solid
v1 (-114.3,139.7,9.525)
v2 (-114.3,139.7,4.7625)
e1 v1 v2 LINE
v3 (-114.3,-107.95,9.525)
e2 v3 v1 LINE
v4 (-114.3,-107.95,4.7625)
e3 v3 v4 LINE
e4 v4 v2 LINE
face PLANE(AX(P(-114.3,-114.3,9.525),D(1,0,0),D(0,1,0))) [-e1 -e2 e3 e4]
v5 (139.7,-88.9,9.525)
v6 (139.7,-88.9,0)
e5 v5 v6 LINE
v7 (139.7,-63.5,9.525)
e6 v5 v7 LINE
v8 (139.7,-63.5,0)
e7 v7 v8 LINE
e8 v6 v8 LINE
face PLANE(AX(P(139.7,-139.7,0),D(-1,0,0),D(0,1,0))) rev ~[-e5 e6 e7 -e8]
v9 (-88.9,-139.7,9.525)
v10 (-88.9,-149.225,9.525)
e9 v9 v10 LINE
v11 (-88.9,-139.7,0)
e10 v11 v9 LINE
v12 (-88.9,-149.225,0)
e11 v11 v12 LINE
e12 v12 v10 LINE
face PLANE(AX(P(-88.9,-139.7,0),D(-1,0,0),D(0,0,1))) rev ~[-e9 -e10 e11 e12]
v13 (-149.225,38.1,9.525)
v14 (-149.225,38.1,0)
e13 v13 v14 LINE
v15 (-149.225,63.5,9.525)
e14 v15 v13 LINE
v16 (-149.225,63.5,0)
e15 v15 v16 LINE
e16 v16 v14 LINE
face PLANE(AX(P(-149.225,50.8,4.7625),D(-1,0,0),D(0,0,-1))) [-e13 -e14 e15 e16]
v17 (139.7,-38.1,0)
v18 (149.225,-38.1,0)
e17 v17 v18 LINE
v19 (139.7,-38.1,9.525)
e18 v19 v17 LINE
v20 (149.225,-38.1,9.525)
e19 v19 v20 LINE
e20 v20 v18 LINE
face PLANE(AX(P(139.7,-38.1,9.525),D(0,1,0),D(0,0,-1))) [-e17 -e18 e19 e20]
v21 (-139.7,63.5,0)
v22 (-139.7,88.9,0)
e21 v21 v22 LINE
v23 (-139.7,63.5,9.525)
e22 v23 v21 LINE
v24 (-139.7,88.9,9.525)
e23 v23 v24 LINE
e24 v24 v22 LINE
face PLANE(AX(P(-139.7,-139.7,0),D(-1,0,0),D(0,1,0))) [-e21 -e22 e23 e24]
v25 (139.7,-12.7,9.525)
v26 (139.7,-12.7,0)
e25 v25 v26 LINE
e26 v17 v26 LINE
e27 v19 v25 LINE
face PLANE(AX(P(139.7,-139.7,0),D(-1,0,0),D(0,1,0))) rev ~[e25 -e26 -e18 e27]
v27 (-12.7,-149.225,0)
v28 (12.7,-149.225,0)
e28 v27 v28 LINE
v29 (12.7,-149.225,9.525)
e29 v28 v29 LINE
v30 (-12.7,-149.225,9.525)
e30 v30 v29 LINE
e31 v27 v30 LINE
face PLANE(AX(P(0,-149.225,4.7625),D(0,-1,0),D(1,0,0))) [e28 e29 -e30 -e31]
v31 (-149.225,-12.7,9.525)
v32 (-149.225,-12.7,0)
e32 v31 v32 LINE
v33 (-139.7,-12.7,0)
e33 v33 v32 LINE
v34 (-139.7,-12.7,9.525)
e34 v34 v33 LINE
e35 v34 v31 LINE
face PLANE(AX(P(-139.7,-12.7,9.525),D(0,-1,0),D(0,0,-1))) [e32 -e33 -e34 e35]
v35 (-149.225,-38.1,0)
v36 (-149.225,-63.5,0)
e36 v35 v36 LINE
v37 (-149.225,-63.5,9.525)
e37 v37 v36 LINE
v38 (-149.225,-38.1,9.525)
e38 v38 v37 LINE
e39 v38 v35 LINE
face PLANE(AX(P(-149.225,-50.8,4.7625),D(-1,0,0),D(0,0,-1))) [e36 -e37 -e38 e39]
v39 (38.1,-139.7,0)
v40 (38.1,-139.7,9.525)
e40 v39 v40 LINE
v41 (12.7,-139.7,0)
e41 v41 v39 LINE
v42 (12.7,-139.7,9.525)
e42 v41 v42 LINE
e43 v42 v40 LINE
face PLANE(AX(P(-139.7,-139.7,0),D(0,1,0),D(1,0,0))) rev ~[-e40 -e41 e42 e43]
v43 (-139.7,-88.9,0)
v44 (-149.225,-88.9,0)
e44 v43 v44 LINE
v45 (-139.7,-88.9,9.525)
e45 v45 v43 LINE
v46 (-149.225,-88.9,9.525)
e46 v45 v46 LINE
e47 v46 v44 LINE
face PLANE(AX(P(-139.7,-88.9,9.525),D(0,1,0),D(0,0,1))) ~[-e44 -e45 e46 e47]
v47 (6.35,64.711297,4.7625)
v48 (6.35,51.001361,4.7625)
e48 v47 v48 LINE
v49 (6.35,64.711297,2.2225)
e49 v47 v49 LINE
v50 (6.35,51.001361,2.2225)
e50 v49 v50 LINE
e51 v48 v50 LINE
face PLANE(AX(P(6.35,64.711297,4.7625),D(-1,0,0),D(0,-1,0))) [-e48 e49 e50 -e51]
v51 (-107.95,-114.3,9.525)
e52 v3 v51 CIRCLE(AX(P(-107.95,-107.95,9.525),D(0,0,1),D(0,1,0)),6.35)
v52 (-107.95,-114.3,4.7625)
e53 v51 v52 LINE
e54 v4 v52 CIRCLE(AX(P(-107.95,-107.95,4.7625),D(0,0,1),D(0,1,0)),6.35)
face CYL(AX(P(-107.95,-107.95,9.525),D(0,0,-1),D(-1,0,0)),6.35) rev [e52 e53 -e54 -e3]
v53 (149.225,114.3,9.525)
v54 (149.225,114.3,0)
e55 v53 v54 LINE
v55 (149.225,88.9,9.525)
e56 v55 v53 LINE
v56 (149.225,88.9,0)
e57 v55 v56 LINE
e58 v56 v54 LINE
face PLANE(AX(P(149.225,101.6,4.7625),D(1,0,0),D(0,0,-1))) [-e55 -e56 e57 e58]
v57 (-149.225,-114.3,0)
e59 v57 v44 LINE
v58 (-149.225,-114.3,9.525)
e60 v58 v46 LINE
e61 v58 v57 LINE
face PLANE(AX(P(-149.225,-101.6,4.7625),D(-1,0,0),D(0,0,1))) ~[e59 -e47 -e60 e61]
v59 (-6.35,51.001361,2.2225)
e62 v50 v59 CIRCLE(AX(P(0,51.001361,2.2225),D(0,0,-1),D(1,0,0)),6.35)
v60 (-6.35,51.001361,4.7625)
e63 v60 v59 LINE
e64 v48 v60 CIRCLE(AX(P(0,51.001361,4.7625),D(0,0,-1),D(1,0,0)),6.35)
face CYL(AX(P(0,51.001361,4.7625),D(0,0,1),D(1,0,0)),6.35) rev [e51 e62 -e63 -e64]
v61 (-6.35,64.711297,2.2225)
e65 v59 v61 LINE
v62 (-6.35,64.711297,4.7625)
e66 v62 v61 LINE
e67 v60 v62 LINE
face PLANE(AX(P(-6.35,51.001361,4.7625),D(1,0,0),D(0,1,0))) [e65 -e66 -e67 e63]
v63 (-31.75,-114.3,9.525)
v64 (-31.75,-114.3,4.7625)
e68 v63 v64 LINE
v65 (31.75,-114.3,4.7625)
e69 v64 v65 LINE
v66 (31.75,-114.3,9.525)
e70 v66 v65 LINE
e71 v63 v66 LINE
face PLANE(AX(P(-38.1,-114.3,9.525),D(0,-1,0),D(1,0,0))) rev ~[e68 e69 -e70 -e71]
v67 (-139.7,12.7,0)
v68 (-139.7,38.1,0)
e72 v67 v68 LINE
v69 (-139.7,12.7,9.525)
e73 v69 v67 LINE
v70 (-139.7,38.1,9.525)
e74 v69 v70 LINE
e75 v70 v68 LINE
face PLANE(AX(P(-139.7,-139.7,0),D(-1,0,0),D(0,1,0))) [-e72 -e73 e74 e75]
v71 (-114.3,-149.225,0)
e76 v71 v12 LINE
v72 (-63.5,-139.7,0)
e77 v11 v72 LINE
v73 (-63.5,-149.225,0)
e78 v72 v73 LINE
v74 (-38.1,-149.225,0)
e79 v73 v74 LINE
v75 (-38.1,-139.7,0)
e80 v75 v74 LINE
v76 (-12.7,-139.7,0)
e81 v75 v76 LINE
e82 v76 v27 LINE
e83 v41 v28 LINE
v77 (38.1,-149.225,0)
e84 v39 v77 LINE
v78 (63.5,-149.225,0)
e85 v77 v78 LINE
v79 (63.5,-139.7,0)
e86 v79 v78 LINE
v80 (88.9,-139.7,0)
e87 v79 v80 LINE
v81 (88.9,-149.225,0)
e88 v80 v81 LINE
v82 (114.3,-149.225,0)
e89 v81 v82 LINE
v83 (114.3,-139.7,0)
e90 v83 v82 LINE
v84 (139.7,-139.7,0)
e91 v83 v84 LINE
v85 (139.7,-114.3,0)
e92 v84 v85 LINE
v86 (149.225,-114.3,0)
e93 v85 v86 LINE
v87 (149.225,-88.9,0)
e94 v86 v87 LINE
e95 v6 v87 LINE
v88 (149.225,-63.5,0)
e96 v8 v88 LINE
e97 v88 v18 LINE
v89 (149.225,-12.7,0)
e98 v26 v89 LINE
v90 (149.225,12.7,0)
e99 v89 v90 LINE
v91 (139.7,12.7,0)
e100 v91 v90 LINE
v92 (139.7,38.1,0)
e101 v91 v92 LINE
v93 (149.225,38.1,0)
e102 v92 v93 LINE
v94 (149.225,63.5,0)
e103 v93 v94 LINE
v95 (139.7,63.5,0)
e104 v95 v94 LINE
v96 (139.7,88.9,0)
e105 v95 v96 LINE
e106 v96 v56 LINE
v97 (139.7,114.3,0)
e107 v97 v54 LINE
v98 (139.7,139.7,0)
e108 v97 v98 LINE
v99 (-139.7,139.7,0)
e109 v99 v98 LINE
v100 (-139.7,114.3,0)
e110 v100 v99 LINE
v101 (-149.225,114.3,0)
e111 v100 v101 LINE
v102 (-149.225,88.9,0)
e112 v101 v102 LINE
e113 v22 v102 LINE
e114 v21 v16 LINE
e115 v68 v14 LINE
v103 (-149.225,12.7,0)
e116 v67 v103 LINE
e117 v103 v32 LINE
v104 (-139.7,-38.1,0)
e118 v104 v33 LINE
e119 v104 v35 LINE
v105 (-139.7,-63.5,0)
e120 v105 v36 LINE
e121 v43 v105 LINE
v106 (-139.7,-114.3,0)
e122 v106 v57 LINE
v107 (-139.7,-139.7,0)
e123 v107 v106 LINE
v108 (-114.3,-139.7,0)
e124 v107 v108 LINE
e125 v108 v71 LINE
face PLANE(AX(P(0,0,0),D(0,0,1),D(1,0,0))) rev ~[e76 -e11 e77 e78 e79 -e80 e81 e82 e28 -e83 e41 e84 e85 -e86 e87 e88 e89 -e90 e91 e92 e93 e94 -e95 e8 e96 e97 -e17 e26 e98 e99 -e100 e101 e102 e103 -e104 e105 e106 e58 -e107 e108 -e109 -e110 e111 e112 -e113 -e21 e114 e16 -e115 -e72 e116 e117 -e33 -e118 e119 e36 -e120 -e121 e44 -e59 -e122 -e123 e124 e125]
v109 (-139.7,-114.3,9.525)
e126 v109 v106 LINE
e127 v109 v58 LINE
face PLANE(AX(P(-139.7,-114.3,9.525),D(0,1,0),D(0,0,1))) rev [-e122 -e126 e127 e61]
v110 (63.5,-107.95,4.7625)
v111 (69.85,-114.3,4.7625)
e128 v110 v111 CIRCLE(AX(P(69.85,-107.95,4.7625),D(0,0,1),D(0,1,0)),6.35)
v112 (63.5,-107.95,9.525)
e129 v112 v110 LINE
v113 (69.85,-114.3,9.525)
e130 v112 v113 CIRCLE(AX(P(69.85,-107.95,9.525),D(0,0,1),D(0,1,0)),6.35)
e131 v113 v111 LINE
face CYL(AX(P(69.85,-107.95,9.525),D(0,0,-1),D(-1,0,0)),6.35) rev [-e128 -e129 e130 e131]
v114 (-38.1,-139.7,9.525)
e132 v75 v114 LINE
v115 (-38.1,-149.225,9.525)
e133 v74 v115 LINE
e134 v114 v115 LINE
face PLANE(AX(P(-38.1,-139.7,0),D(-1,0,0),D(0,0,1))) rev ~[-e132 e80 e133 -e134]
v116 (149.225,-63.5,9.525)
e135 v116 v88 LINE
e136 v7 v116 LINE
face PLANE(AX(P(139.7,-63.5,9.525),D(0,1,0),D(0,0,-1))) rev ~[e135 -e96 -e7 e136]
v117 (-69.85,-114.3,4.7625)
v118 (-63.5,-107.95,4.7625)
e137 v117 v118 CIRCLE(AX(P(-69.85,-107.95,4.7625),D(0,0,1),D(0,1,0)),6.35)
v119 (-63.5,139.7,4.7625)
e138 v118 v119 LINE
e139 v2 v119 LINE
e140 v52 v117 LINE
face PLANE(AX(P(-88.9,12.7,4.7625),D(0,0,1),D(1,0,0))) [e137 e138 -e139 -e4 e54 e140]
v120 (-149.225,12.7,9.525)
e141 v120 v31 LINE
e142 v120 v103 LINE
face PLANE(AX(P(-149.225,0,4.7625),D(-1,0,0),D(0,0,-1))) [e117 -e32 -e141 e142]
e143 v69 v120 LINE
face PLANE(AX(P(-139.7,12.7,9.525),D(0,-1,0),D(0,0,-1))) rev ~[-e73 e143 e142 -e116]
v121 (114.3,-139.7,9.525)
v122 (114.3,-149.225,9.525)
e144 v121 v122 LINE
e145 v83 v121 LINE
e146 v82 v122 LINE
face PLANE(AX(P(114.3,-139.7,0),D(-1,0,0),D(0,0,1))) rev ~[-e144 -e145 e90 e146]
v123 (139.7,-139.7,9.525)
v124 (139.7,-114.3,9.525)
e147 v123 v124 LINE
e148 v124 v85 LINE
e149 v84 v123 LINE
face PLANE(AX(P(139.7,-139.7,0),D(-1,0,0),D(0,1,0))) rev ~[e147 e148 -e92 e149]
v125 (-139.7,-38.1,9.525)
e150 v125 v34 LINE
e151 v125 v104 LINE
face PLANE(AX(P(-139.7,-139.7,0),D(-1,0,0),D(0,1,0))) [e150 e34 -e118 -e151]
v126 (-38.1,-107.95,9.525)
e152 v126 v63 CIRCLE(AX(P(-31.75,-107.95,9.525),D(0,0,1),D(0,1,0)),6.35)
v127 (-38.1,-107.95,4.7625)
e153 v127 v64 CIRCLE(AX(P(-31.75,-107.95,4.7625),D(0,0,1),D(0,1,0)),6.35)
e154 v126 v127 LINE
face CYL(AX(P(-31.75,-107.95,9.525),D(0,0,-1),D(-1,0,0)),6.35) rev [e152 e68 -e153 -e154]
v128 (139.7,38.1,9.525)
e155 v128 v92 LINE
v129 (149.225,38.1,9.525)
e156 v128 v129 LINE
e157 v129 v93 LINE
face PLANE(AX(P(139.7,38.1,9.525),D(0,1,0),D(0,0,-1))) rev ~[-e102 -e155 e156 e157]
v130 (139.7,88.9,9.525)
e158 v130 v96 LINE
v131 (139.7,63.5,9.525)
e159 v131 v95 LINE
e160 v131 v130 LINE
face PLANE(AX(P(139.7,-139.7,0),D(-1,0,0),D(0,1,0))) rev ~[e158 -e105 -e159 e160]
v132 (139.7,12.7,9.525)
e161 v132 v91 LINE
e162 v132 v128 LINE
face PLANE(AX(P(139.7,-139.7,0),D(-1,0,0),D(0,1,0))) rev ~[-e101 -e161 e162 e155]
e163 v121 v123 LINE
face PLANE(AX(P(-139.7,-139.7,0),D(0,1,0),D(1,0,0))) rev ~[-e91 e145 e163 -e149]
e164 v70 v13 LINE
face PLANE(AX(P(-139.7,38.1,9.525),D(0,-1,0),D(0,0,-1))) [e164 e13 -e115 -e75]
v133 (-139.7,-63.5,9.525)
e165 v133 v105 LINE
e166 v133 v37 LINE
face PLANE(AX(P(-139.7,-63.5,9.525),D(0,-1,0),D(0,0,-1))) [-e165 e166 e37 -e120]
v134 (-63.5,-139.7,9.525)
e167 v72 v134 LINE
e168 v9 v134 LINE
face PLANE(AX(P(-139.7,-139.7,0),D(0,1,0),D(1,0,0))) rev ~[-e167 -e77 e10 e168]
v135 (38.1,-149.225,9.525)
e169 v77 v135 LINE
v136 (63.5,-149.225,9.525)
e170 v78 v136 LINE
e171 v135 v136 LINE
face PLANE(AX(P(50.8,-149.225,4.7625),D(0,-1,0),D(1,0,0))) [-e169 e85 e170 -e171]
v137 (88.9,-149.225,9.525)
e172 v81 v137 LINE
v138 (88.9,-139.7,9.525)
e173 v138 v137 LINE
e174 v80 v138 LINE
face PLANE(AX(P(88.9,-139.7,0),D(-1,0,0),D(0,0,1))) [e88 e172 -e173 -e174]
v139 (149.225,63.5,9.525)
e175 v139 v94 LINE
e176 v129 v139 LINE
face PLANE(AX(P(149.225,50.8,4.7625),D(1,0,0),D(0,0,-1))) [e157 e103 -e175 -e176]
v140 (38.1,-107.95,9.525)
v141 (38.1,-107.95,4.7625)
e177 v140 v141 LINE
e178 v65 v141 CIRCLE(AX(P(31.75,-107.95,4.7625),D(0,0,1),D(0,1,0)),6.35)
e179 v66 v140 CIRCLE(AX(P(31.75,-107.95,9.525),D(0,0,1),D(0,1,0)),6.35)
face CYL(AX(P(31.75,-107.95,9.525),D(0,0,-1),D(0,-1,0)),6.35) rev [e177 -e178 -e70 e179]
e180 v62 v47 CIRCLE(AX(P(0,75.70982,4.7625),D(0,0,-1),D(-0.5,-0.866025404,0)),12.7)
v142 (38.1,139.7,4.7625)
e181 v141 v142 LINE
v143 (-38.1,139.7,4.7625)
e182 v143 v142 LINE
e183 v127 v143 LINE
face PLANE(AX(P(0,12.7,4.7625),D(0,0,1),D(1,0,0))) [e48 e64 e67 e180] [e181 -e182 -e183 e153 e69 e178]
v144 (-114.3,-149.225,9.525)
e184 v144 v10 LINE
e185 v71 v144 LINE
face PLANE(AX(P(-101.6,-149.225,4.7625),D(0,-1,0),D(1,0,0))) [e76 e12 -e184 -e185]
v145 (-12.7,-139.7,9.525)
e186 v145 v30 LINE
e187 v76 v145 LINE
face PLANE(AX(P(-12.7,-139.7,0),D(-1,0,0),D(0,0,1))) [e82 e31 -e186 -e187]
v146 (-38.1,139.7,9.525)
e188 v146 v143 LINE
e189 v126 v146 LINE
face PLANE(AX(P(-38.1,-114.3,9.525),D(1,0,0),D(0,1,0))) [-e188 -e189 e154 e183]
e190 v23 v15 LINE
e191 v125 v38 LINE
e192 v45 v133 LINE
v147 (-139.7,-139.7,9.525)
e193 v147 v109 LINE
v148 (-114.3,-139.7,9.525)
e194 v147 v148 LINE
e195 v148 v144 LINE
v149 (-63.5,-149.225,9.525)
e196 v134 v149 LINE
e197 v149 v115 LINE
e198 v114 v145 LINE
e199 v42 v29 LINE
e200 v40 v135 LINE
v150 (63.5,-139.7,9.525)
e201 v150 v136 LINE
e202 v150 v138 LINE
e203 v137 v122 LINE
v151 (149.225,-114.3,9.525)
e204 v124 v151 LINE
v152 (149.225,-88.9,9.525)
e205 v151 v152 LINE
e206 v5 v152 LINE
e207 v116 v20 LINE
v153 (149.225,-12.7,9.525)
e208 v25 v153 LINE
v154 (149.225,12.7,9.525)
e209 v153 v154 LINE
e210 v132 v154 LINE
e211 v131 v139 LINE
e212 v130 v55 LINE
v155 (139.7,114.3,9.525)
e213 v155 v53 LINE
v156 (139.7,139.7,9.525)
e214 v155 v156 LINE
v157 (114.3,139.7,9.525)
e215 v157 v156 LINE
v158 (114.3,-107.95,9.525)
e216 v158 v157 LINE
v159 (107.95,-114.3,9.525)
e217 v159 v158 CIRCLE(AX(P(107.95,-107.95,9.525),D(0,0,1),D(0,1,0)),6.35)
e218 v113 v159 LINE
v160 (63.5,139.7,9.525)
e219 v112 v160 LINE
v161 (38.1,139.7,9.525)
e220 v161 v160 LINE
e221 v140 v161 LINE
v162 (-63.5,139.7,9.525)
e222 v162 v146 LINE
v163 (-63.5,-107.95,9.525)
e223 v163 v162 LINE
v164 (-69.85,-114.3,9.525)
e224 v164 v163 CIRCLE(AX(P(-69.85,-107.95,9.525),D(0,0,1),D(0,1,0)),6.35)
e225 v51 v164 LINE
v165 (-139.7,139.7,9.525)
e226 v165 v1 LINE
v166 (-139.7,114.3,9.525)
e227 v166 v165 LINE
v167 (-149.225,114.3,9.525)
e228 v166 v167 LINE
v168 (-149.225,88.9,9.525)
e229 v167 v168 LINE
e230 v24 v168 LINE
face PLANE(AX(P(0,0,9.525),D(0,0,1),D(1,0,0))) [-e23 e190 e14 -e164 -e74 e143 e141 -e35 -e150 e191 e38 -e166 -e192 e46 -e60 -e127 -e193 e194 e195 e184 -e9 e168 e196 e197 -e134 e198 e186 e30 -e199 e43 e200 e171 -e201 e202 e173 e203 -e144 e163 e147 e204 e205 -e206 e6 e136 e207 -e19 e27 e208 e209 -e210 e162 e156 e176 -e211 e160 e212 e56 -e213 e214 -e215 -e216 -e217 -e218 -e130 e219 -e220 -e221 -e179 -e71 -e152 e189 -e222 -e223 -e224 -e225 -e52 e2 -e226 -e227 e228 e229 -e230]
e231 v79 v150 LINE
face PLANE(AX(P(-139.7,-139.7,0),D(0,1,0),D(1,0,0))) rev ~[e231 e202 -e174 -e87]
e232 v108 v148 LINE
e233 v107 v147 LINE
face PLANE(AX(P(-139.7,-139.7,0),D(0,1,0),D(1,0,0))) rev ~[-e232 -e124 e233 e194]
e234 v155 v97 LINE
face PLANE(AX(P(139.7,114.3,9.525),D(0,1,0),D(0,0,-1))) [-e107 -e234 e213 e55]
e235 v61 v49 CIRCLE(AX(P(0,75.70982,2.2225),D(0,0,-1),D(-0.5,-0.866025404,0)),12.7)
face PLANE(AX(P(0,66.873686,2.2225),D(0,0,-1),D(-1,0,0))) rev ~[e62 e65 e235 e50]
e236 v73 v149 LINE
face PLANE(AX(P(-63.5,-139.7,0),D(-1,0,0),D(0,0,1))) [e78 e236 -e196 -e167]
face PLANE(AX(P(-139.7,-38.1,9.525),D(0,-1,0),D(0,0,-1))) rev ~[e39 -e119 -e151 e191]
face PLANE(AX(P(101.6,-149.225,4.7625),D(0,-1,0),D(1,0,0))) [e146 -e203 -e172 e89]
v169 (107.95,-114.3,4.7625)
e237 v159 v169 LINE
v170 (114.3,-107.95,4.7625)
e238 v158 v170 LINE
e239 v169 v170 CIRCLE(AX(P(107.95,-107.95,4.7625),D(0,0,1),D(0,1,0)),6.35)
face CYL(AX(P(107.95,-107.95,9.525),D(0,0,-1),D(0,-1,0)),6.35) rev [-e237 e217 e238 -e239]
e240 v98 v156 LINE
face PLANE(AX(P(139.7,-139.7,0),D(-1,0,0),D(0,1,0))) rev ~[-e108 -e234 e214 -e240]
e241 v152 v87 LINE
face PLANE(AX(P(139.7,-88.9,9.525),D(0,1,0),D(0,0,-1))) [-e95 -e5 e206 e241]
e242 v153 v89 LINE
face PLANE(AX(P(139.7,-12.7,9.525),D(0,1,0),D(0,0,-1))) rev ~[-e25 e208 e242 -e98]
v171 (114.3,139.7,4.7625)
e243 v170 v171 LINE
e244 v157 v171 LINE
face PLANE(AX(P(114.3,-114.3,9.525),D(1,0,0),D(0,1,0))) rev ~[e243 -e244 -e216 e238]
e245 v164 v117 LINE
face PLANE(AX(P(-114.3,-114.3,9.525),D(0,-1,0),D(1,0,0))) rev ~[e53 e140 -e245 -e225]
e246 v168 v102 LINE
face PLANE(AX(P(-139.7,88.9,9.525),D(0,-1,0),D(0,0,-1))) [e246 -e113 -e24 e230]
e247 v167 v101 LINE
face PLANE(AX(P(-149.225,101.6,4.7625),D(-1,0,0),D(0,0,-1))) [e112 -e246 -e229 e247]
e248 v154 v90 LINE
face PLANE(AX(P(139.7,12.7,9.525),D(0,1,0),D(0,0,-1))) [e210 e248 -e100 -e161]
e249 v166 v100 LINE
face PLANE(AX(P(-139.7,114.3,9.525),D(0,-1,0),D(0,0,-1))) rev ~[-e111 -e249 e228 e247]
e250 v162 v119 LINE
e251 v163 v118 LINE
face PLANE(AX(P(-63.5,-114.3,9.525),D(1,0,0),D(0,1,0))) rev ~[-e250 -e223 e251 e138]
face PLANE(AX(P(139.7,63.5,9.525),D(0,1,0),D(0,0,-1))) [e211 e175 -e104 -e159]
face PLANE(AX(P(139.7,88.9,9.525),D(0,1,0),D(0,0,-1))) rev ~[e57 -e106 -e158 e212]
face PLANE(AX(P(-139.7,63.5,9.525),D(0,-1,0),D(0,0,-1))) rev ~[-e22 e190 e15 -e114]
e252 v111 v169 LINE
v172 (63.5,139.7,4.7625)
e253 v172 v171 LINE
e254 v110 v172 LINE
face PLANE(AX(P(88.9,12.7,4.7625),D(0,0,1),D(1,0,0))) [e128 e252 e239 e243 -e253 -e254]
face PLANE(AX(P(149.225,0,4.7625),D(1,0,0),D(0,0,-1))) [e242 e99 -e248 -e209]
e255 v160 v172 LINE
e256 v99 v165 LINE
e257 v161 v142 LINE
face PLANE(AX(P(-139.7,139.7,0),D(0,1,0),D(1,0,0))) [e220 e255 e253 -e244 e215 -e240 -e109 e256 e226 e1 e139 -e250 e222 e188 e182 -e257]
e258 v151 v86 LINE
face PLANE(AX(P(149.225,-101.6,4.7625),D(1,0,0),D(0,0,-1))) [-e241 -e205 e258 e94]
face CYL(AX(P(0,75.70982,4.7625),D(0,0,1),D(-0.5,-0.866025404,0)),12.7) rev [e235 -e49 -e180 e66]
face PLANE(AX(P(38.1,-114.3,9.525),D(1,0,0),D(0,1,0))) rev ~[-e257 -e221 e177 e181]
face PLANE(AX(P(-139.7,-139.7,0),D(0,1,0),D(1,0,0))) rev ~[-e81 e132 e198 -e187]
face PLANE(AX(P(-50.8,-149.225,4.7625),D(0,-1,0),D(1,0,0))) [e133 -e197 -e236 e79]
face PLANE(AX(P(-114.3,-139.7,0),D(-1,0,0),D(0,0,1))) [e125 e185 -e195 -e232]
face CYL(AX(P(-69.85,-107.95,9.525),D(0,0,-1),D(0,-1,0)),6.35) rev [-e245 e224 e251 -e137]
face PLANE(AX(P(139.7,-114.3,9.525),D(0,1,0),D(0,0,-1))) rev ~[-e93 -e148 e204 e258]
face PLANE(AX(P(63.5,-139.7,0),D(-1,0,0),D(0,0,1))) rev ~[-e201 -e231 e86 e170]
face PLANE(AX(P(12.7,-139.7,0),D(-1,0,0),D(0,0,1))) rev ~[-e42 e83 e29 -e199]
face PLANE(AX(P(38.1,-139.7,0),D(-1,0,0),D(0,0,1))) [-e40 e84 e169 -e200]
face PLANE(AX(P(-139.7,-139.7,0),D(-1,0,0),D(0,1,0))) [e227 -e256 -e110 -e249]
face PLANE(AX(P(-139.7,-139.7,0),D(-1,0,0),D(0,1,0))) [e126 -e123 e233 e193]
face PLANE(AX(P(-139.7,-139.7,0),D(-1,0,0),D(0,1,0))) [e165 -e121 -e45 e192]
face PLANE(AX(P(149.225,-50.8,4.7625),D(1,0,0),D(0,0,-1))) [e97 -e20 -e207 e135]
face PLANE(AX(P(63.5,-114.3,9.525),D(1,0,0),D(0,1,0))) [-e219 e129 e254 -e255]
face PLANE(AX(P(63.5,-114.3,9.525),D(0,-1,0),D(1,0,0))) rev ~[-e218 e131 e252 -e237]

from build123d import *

# Parameters (mm, degrees)
SKETCH2_W               = 279.4
SKETCH2_H               = 279.4
BOSS_EXTRUDE1_DEPTH     = 9.525
SKETCH4_W               = 9.525
SKETCH4_H               = 25.4
BOSS_EXTRUDE3_DEPTH     = 9.525
LPATTERN2_COUNT         = 5
LPATTERN2_PITCH         = 50.8
MIRROR2_COPY_1_SKETCH_W = 9.525
MIRROR2_COPY_1_SKETCH_H = 25.4
MIRROR2_COPY_1_DEPTH    = 9.525
MIRROR2_COPY_2_SKETCH_W = 9.525
MIRROR2_COPY_2_SKETCH_H = 25.4
MIRROR2_COPY_2_DEPTH    = 9.525
MIRROR2_COPY_3_SKETCH_W = 9.525
MIRROR2_COPY_3_SKETCH_H = 25.4
MIRROR2_COPY_3_DEPTH    = 9.525
MIRROR2_COPY_4_SKETCH_W = 9.525
MIRROR2_COPY_4_SKETCH_H = 25.4
MIRROR2_COPY_4_DEPTH    = 9.525
SKETCH5_W               = 25.4
SKETCH5_H               = 9.525
BOSS_EXTRUDE4_DEPTH     = 9.525
LPATTERN3_COUNT         = 5
LPATTERN3_PITCH         = 50.8
SKETCH6_W               = 76.2
SKETCH6_H               = 254
SKETCH6_W_2             = 50.8
CUT_EXTRUDE1_DEPTH      = 4.7625
FILLET1_R               = 6.35
CUT_EXTRUDE2_DEPTH      = 2.54


with BuildPart() as part:
    # Sketch2 → Boss-Extrude1 (new body)
    with BuildSketch(Plane.XY):
        Rectangle(SKETCH2_W, SKETCH2_H)
    extrude(amount=BOSS_EXTRUDE1_DEPTH)

    # Sketch4 → Boss-Extrude3 (add)
    with BuildSketch(Plane(origin=(139.7, 0, 0), x_dir=(0, 0, -1), z_dir=(1, 0, 0))):
        with Locations((-4.7625, -101.6)):
            Rectangle(SKETCH4_W, SKETCH4_H)
    boss_extrude3 = extrude(amount=BOSS_EXTRUDE3_DEPTH)

    # LPattern2: Boss-Extrude3 ×5
    with Locations(*[(0, i * LPATTERN2_PITCH, 0) for i in range(1, LPATTERN2_COUNT)]):
        add(boss_extrude3)

    # Mirror2: Boss-Extrude3 across plane
    add(boss_extrude3.mirror(Plane(origin=(0, 0, 0), x_dir=(0, 0, 1), z_dir=(1, 0, 0))))

    # Mirror2 copy 1 sketch → Mirror2 copy 1 (add)
    with BuildSketch(Plane(origin=(-139.7, 50.8, 0), x_dir=(0, 0, -1), z_dir=(-1, 0, 0))):
        with Locations((-4.7625, 101.6)):
            Rectangle(MIRROR2_COPY_1_SKETCH_W, MIRROR2_COPY_1_SKETCH_H)
    extrude(amount=MIRROR2_COPY_1_DEPTH)

    # Mirror2 copy 2 sketch → Mirror2 copy 2 (add)
    with BuildSketch(Plane(origin=(-139.7, 101.6, 0), x_dir=(0, 0, -1), z_dir=(-1, 0, 0))):
        with Locations((-4.7625, 101.6)):
            Rectangle(MIRROR2_COPY_2_SKETCH_W, MIRROR2_COPY_2_SKETCH_H)
    extrude(amount=MIRROR2_COPY_2_DEPTH)

    # Mirror2 copy 3 sketch → Mirror2 copy 3 (add)
    with BuildSketch(Plane(origin=(-139.7, 152.4, 0), x_dir=(0, 0, -1), z_dir=(-1, 0, 0))):
        with Locations((-4.7625, 101.6)):
            Rectangle(MIRROR2_COPY_3_SKETCH_W, MIRROR2_COPY_3_SKETCH_H)
    extrude(amount=MIRROR2_COPY_3_DEPTH)

    # Mirror2 copy 4 sketch → Mirror2 copy 4 (add)
    with BuildSketch(Plane(origin=(-139.7, 203.2, 0), x_dir=(0, 0, -1), z_dir=(-1, 0, 0))):
        with Locations((-4.7625, 101.6)):
            Rectangle(MIRROR2_COPY_4_SKETCH_W, MIRROR2_COPY_4_SKETCH_H)
    extrude(amount=MIRROR2_COPY_4_DEPTH)

    # Sketch5 → Boss-Extrude4 (add)
    with BuildSketch(Plane.XZ.offset(139.7)):
        with Locations((-101.6, 4.7625)):
            Rectangle(SKETCH5_W, SKETCH5_H)
    boss_extrude4 = extrude(amount=BOSS_EXTRUDE4_DEPTH)

    # LPattern3: Boss-Extrude4 ×5
    with Locations(*[(i * LPATTERN3_PITCH, 0, 0) for i in range(1, LPATTERN3_COUNT)]):
        add(boss_extrude4)

    # Sketch6 → Cut-Extrude1 (cut)
    with BuildSketch(Plane.XY.offset(9.525)):
        with Locations((0, 12.7)):
            Rectangle(SKETCH6_W, SKETCH6_H)
        with Locations((-88.9, 12.7)):
            Rectangle(SKETCH6_W_2, SKETCH6_H)
        with Locations((88.9, 12.7)):
            Rectangle(SKETCH6_W_2, SKETCH6_H)
    extrude(amount=-CUT_EXTRUDE1_DEPTH, mode=Mode.SUBTRACT)

    # Fillet1
    fillet1_edges = [part.edges().sort_by_distance(p)[0] for p in [
        (63.5, -114.3, 7.14375),
        (114.3, -114.3, 7.14375),
        (-114.3, -114.3, 7.14375),
        (-63.5, -114.3, 7.14375),
        (-38.1, -114.3, 7.14375),
        (38.1, -114.3, 7.14375),
    ]]
    fillet(fillet1_edges, radius=FILLET1_R)

    # Sketch7 → Cut-Extrude2 (cut)
    with BuildSketch(Plane.XY.offset(4.7625)):
        with BuildLine():
            Line((6.35, 64.711297153), (6.35, 51.001361114))
            ThreePointArc((6.35, 51.001361114), (0, 44.651361114), (-6.35, 51.001361114))
            Line((-6.35, 51.001361114), (-6.35, 64.711297153))
            ThreePointArc((-6.35, 64.711297153), (0, 88.409819781), (6.35, 64.711297153))
        make_face()
    extrude(amount=-CUT_EXTRUDE2_DEPTH, mode=Mode.SUBTRACT)


solid = part.part
